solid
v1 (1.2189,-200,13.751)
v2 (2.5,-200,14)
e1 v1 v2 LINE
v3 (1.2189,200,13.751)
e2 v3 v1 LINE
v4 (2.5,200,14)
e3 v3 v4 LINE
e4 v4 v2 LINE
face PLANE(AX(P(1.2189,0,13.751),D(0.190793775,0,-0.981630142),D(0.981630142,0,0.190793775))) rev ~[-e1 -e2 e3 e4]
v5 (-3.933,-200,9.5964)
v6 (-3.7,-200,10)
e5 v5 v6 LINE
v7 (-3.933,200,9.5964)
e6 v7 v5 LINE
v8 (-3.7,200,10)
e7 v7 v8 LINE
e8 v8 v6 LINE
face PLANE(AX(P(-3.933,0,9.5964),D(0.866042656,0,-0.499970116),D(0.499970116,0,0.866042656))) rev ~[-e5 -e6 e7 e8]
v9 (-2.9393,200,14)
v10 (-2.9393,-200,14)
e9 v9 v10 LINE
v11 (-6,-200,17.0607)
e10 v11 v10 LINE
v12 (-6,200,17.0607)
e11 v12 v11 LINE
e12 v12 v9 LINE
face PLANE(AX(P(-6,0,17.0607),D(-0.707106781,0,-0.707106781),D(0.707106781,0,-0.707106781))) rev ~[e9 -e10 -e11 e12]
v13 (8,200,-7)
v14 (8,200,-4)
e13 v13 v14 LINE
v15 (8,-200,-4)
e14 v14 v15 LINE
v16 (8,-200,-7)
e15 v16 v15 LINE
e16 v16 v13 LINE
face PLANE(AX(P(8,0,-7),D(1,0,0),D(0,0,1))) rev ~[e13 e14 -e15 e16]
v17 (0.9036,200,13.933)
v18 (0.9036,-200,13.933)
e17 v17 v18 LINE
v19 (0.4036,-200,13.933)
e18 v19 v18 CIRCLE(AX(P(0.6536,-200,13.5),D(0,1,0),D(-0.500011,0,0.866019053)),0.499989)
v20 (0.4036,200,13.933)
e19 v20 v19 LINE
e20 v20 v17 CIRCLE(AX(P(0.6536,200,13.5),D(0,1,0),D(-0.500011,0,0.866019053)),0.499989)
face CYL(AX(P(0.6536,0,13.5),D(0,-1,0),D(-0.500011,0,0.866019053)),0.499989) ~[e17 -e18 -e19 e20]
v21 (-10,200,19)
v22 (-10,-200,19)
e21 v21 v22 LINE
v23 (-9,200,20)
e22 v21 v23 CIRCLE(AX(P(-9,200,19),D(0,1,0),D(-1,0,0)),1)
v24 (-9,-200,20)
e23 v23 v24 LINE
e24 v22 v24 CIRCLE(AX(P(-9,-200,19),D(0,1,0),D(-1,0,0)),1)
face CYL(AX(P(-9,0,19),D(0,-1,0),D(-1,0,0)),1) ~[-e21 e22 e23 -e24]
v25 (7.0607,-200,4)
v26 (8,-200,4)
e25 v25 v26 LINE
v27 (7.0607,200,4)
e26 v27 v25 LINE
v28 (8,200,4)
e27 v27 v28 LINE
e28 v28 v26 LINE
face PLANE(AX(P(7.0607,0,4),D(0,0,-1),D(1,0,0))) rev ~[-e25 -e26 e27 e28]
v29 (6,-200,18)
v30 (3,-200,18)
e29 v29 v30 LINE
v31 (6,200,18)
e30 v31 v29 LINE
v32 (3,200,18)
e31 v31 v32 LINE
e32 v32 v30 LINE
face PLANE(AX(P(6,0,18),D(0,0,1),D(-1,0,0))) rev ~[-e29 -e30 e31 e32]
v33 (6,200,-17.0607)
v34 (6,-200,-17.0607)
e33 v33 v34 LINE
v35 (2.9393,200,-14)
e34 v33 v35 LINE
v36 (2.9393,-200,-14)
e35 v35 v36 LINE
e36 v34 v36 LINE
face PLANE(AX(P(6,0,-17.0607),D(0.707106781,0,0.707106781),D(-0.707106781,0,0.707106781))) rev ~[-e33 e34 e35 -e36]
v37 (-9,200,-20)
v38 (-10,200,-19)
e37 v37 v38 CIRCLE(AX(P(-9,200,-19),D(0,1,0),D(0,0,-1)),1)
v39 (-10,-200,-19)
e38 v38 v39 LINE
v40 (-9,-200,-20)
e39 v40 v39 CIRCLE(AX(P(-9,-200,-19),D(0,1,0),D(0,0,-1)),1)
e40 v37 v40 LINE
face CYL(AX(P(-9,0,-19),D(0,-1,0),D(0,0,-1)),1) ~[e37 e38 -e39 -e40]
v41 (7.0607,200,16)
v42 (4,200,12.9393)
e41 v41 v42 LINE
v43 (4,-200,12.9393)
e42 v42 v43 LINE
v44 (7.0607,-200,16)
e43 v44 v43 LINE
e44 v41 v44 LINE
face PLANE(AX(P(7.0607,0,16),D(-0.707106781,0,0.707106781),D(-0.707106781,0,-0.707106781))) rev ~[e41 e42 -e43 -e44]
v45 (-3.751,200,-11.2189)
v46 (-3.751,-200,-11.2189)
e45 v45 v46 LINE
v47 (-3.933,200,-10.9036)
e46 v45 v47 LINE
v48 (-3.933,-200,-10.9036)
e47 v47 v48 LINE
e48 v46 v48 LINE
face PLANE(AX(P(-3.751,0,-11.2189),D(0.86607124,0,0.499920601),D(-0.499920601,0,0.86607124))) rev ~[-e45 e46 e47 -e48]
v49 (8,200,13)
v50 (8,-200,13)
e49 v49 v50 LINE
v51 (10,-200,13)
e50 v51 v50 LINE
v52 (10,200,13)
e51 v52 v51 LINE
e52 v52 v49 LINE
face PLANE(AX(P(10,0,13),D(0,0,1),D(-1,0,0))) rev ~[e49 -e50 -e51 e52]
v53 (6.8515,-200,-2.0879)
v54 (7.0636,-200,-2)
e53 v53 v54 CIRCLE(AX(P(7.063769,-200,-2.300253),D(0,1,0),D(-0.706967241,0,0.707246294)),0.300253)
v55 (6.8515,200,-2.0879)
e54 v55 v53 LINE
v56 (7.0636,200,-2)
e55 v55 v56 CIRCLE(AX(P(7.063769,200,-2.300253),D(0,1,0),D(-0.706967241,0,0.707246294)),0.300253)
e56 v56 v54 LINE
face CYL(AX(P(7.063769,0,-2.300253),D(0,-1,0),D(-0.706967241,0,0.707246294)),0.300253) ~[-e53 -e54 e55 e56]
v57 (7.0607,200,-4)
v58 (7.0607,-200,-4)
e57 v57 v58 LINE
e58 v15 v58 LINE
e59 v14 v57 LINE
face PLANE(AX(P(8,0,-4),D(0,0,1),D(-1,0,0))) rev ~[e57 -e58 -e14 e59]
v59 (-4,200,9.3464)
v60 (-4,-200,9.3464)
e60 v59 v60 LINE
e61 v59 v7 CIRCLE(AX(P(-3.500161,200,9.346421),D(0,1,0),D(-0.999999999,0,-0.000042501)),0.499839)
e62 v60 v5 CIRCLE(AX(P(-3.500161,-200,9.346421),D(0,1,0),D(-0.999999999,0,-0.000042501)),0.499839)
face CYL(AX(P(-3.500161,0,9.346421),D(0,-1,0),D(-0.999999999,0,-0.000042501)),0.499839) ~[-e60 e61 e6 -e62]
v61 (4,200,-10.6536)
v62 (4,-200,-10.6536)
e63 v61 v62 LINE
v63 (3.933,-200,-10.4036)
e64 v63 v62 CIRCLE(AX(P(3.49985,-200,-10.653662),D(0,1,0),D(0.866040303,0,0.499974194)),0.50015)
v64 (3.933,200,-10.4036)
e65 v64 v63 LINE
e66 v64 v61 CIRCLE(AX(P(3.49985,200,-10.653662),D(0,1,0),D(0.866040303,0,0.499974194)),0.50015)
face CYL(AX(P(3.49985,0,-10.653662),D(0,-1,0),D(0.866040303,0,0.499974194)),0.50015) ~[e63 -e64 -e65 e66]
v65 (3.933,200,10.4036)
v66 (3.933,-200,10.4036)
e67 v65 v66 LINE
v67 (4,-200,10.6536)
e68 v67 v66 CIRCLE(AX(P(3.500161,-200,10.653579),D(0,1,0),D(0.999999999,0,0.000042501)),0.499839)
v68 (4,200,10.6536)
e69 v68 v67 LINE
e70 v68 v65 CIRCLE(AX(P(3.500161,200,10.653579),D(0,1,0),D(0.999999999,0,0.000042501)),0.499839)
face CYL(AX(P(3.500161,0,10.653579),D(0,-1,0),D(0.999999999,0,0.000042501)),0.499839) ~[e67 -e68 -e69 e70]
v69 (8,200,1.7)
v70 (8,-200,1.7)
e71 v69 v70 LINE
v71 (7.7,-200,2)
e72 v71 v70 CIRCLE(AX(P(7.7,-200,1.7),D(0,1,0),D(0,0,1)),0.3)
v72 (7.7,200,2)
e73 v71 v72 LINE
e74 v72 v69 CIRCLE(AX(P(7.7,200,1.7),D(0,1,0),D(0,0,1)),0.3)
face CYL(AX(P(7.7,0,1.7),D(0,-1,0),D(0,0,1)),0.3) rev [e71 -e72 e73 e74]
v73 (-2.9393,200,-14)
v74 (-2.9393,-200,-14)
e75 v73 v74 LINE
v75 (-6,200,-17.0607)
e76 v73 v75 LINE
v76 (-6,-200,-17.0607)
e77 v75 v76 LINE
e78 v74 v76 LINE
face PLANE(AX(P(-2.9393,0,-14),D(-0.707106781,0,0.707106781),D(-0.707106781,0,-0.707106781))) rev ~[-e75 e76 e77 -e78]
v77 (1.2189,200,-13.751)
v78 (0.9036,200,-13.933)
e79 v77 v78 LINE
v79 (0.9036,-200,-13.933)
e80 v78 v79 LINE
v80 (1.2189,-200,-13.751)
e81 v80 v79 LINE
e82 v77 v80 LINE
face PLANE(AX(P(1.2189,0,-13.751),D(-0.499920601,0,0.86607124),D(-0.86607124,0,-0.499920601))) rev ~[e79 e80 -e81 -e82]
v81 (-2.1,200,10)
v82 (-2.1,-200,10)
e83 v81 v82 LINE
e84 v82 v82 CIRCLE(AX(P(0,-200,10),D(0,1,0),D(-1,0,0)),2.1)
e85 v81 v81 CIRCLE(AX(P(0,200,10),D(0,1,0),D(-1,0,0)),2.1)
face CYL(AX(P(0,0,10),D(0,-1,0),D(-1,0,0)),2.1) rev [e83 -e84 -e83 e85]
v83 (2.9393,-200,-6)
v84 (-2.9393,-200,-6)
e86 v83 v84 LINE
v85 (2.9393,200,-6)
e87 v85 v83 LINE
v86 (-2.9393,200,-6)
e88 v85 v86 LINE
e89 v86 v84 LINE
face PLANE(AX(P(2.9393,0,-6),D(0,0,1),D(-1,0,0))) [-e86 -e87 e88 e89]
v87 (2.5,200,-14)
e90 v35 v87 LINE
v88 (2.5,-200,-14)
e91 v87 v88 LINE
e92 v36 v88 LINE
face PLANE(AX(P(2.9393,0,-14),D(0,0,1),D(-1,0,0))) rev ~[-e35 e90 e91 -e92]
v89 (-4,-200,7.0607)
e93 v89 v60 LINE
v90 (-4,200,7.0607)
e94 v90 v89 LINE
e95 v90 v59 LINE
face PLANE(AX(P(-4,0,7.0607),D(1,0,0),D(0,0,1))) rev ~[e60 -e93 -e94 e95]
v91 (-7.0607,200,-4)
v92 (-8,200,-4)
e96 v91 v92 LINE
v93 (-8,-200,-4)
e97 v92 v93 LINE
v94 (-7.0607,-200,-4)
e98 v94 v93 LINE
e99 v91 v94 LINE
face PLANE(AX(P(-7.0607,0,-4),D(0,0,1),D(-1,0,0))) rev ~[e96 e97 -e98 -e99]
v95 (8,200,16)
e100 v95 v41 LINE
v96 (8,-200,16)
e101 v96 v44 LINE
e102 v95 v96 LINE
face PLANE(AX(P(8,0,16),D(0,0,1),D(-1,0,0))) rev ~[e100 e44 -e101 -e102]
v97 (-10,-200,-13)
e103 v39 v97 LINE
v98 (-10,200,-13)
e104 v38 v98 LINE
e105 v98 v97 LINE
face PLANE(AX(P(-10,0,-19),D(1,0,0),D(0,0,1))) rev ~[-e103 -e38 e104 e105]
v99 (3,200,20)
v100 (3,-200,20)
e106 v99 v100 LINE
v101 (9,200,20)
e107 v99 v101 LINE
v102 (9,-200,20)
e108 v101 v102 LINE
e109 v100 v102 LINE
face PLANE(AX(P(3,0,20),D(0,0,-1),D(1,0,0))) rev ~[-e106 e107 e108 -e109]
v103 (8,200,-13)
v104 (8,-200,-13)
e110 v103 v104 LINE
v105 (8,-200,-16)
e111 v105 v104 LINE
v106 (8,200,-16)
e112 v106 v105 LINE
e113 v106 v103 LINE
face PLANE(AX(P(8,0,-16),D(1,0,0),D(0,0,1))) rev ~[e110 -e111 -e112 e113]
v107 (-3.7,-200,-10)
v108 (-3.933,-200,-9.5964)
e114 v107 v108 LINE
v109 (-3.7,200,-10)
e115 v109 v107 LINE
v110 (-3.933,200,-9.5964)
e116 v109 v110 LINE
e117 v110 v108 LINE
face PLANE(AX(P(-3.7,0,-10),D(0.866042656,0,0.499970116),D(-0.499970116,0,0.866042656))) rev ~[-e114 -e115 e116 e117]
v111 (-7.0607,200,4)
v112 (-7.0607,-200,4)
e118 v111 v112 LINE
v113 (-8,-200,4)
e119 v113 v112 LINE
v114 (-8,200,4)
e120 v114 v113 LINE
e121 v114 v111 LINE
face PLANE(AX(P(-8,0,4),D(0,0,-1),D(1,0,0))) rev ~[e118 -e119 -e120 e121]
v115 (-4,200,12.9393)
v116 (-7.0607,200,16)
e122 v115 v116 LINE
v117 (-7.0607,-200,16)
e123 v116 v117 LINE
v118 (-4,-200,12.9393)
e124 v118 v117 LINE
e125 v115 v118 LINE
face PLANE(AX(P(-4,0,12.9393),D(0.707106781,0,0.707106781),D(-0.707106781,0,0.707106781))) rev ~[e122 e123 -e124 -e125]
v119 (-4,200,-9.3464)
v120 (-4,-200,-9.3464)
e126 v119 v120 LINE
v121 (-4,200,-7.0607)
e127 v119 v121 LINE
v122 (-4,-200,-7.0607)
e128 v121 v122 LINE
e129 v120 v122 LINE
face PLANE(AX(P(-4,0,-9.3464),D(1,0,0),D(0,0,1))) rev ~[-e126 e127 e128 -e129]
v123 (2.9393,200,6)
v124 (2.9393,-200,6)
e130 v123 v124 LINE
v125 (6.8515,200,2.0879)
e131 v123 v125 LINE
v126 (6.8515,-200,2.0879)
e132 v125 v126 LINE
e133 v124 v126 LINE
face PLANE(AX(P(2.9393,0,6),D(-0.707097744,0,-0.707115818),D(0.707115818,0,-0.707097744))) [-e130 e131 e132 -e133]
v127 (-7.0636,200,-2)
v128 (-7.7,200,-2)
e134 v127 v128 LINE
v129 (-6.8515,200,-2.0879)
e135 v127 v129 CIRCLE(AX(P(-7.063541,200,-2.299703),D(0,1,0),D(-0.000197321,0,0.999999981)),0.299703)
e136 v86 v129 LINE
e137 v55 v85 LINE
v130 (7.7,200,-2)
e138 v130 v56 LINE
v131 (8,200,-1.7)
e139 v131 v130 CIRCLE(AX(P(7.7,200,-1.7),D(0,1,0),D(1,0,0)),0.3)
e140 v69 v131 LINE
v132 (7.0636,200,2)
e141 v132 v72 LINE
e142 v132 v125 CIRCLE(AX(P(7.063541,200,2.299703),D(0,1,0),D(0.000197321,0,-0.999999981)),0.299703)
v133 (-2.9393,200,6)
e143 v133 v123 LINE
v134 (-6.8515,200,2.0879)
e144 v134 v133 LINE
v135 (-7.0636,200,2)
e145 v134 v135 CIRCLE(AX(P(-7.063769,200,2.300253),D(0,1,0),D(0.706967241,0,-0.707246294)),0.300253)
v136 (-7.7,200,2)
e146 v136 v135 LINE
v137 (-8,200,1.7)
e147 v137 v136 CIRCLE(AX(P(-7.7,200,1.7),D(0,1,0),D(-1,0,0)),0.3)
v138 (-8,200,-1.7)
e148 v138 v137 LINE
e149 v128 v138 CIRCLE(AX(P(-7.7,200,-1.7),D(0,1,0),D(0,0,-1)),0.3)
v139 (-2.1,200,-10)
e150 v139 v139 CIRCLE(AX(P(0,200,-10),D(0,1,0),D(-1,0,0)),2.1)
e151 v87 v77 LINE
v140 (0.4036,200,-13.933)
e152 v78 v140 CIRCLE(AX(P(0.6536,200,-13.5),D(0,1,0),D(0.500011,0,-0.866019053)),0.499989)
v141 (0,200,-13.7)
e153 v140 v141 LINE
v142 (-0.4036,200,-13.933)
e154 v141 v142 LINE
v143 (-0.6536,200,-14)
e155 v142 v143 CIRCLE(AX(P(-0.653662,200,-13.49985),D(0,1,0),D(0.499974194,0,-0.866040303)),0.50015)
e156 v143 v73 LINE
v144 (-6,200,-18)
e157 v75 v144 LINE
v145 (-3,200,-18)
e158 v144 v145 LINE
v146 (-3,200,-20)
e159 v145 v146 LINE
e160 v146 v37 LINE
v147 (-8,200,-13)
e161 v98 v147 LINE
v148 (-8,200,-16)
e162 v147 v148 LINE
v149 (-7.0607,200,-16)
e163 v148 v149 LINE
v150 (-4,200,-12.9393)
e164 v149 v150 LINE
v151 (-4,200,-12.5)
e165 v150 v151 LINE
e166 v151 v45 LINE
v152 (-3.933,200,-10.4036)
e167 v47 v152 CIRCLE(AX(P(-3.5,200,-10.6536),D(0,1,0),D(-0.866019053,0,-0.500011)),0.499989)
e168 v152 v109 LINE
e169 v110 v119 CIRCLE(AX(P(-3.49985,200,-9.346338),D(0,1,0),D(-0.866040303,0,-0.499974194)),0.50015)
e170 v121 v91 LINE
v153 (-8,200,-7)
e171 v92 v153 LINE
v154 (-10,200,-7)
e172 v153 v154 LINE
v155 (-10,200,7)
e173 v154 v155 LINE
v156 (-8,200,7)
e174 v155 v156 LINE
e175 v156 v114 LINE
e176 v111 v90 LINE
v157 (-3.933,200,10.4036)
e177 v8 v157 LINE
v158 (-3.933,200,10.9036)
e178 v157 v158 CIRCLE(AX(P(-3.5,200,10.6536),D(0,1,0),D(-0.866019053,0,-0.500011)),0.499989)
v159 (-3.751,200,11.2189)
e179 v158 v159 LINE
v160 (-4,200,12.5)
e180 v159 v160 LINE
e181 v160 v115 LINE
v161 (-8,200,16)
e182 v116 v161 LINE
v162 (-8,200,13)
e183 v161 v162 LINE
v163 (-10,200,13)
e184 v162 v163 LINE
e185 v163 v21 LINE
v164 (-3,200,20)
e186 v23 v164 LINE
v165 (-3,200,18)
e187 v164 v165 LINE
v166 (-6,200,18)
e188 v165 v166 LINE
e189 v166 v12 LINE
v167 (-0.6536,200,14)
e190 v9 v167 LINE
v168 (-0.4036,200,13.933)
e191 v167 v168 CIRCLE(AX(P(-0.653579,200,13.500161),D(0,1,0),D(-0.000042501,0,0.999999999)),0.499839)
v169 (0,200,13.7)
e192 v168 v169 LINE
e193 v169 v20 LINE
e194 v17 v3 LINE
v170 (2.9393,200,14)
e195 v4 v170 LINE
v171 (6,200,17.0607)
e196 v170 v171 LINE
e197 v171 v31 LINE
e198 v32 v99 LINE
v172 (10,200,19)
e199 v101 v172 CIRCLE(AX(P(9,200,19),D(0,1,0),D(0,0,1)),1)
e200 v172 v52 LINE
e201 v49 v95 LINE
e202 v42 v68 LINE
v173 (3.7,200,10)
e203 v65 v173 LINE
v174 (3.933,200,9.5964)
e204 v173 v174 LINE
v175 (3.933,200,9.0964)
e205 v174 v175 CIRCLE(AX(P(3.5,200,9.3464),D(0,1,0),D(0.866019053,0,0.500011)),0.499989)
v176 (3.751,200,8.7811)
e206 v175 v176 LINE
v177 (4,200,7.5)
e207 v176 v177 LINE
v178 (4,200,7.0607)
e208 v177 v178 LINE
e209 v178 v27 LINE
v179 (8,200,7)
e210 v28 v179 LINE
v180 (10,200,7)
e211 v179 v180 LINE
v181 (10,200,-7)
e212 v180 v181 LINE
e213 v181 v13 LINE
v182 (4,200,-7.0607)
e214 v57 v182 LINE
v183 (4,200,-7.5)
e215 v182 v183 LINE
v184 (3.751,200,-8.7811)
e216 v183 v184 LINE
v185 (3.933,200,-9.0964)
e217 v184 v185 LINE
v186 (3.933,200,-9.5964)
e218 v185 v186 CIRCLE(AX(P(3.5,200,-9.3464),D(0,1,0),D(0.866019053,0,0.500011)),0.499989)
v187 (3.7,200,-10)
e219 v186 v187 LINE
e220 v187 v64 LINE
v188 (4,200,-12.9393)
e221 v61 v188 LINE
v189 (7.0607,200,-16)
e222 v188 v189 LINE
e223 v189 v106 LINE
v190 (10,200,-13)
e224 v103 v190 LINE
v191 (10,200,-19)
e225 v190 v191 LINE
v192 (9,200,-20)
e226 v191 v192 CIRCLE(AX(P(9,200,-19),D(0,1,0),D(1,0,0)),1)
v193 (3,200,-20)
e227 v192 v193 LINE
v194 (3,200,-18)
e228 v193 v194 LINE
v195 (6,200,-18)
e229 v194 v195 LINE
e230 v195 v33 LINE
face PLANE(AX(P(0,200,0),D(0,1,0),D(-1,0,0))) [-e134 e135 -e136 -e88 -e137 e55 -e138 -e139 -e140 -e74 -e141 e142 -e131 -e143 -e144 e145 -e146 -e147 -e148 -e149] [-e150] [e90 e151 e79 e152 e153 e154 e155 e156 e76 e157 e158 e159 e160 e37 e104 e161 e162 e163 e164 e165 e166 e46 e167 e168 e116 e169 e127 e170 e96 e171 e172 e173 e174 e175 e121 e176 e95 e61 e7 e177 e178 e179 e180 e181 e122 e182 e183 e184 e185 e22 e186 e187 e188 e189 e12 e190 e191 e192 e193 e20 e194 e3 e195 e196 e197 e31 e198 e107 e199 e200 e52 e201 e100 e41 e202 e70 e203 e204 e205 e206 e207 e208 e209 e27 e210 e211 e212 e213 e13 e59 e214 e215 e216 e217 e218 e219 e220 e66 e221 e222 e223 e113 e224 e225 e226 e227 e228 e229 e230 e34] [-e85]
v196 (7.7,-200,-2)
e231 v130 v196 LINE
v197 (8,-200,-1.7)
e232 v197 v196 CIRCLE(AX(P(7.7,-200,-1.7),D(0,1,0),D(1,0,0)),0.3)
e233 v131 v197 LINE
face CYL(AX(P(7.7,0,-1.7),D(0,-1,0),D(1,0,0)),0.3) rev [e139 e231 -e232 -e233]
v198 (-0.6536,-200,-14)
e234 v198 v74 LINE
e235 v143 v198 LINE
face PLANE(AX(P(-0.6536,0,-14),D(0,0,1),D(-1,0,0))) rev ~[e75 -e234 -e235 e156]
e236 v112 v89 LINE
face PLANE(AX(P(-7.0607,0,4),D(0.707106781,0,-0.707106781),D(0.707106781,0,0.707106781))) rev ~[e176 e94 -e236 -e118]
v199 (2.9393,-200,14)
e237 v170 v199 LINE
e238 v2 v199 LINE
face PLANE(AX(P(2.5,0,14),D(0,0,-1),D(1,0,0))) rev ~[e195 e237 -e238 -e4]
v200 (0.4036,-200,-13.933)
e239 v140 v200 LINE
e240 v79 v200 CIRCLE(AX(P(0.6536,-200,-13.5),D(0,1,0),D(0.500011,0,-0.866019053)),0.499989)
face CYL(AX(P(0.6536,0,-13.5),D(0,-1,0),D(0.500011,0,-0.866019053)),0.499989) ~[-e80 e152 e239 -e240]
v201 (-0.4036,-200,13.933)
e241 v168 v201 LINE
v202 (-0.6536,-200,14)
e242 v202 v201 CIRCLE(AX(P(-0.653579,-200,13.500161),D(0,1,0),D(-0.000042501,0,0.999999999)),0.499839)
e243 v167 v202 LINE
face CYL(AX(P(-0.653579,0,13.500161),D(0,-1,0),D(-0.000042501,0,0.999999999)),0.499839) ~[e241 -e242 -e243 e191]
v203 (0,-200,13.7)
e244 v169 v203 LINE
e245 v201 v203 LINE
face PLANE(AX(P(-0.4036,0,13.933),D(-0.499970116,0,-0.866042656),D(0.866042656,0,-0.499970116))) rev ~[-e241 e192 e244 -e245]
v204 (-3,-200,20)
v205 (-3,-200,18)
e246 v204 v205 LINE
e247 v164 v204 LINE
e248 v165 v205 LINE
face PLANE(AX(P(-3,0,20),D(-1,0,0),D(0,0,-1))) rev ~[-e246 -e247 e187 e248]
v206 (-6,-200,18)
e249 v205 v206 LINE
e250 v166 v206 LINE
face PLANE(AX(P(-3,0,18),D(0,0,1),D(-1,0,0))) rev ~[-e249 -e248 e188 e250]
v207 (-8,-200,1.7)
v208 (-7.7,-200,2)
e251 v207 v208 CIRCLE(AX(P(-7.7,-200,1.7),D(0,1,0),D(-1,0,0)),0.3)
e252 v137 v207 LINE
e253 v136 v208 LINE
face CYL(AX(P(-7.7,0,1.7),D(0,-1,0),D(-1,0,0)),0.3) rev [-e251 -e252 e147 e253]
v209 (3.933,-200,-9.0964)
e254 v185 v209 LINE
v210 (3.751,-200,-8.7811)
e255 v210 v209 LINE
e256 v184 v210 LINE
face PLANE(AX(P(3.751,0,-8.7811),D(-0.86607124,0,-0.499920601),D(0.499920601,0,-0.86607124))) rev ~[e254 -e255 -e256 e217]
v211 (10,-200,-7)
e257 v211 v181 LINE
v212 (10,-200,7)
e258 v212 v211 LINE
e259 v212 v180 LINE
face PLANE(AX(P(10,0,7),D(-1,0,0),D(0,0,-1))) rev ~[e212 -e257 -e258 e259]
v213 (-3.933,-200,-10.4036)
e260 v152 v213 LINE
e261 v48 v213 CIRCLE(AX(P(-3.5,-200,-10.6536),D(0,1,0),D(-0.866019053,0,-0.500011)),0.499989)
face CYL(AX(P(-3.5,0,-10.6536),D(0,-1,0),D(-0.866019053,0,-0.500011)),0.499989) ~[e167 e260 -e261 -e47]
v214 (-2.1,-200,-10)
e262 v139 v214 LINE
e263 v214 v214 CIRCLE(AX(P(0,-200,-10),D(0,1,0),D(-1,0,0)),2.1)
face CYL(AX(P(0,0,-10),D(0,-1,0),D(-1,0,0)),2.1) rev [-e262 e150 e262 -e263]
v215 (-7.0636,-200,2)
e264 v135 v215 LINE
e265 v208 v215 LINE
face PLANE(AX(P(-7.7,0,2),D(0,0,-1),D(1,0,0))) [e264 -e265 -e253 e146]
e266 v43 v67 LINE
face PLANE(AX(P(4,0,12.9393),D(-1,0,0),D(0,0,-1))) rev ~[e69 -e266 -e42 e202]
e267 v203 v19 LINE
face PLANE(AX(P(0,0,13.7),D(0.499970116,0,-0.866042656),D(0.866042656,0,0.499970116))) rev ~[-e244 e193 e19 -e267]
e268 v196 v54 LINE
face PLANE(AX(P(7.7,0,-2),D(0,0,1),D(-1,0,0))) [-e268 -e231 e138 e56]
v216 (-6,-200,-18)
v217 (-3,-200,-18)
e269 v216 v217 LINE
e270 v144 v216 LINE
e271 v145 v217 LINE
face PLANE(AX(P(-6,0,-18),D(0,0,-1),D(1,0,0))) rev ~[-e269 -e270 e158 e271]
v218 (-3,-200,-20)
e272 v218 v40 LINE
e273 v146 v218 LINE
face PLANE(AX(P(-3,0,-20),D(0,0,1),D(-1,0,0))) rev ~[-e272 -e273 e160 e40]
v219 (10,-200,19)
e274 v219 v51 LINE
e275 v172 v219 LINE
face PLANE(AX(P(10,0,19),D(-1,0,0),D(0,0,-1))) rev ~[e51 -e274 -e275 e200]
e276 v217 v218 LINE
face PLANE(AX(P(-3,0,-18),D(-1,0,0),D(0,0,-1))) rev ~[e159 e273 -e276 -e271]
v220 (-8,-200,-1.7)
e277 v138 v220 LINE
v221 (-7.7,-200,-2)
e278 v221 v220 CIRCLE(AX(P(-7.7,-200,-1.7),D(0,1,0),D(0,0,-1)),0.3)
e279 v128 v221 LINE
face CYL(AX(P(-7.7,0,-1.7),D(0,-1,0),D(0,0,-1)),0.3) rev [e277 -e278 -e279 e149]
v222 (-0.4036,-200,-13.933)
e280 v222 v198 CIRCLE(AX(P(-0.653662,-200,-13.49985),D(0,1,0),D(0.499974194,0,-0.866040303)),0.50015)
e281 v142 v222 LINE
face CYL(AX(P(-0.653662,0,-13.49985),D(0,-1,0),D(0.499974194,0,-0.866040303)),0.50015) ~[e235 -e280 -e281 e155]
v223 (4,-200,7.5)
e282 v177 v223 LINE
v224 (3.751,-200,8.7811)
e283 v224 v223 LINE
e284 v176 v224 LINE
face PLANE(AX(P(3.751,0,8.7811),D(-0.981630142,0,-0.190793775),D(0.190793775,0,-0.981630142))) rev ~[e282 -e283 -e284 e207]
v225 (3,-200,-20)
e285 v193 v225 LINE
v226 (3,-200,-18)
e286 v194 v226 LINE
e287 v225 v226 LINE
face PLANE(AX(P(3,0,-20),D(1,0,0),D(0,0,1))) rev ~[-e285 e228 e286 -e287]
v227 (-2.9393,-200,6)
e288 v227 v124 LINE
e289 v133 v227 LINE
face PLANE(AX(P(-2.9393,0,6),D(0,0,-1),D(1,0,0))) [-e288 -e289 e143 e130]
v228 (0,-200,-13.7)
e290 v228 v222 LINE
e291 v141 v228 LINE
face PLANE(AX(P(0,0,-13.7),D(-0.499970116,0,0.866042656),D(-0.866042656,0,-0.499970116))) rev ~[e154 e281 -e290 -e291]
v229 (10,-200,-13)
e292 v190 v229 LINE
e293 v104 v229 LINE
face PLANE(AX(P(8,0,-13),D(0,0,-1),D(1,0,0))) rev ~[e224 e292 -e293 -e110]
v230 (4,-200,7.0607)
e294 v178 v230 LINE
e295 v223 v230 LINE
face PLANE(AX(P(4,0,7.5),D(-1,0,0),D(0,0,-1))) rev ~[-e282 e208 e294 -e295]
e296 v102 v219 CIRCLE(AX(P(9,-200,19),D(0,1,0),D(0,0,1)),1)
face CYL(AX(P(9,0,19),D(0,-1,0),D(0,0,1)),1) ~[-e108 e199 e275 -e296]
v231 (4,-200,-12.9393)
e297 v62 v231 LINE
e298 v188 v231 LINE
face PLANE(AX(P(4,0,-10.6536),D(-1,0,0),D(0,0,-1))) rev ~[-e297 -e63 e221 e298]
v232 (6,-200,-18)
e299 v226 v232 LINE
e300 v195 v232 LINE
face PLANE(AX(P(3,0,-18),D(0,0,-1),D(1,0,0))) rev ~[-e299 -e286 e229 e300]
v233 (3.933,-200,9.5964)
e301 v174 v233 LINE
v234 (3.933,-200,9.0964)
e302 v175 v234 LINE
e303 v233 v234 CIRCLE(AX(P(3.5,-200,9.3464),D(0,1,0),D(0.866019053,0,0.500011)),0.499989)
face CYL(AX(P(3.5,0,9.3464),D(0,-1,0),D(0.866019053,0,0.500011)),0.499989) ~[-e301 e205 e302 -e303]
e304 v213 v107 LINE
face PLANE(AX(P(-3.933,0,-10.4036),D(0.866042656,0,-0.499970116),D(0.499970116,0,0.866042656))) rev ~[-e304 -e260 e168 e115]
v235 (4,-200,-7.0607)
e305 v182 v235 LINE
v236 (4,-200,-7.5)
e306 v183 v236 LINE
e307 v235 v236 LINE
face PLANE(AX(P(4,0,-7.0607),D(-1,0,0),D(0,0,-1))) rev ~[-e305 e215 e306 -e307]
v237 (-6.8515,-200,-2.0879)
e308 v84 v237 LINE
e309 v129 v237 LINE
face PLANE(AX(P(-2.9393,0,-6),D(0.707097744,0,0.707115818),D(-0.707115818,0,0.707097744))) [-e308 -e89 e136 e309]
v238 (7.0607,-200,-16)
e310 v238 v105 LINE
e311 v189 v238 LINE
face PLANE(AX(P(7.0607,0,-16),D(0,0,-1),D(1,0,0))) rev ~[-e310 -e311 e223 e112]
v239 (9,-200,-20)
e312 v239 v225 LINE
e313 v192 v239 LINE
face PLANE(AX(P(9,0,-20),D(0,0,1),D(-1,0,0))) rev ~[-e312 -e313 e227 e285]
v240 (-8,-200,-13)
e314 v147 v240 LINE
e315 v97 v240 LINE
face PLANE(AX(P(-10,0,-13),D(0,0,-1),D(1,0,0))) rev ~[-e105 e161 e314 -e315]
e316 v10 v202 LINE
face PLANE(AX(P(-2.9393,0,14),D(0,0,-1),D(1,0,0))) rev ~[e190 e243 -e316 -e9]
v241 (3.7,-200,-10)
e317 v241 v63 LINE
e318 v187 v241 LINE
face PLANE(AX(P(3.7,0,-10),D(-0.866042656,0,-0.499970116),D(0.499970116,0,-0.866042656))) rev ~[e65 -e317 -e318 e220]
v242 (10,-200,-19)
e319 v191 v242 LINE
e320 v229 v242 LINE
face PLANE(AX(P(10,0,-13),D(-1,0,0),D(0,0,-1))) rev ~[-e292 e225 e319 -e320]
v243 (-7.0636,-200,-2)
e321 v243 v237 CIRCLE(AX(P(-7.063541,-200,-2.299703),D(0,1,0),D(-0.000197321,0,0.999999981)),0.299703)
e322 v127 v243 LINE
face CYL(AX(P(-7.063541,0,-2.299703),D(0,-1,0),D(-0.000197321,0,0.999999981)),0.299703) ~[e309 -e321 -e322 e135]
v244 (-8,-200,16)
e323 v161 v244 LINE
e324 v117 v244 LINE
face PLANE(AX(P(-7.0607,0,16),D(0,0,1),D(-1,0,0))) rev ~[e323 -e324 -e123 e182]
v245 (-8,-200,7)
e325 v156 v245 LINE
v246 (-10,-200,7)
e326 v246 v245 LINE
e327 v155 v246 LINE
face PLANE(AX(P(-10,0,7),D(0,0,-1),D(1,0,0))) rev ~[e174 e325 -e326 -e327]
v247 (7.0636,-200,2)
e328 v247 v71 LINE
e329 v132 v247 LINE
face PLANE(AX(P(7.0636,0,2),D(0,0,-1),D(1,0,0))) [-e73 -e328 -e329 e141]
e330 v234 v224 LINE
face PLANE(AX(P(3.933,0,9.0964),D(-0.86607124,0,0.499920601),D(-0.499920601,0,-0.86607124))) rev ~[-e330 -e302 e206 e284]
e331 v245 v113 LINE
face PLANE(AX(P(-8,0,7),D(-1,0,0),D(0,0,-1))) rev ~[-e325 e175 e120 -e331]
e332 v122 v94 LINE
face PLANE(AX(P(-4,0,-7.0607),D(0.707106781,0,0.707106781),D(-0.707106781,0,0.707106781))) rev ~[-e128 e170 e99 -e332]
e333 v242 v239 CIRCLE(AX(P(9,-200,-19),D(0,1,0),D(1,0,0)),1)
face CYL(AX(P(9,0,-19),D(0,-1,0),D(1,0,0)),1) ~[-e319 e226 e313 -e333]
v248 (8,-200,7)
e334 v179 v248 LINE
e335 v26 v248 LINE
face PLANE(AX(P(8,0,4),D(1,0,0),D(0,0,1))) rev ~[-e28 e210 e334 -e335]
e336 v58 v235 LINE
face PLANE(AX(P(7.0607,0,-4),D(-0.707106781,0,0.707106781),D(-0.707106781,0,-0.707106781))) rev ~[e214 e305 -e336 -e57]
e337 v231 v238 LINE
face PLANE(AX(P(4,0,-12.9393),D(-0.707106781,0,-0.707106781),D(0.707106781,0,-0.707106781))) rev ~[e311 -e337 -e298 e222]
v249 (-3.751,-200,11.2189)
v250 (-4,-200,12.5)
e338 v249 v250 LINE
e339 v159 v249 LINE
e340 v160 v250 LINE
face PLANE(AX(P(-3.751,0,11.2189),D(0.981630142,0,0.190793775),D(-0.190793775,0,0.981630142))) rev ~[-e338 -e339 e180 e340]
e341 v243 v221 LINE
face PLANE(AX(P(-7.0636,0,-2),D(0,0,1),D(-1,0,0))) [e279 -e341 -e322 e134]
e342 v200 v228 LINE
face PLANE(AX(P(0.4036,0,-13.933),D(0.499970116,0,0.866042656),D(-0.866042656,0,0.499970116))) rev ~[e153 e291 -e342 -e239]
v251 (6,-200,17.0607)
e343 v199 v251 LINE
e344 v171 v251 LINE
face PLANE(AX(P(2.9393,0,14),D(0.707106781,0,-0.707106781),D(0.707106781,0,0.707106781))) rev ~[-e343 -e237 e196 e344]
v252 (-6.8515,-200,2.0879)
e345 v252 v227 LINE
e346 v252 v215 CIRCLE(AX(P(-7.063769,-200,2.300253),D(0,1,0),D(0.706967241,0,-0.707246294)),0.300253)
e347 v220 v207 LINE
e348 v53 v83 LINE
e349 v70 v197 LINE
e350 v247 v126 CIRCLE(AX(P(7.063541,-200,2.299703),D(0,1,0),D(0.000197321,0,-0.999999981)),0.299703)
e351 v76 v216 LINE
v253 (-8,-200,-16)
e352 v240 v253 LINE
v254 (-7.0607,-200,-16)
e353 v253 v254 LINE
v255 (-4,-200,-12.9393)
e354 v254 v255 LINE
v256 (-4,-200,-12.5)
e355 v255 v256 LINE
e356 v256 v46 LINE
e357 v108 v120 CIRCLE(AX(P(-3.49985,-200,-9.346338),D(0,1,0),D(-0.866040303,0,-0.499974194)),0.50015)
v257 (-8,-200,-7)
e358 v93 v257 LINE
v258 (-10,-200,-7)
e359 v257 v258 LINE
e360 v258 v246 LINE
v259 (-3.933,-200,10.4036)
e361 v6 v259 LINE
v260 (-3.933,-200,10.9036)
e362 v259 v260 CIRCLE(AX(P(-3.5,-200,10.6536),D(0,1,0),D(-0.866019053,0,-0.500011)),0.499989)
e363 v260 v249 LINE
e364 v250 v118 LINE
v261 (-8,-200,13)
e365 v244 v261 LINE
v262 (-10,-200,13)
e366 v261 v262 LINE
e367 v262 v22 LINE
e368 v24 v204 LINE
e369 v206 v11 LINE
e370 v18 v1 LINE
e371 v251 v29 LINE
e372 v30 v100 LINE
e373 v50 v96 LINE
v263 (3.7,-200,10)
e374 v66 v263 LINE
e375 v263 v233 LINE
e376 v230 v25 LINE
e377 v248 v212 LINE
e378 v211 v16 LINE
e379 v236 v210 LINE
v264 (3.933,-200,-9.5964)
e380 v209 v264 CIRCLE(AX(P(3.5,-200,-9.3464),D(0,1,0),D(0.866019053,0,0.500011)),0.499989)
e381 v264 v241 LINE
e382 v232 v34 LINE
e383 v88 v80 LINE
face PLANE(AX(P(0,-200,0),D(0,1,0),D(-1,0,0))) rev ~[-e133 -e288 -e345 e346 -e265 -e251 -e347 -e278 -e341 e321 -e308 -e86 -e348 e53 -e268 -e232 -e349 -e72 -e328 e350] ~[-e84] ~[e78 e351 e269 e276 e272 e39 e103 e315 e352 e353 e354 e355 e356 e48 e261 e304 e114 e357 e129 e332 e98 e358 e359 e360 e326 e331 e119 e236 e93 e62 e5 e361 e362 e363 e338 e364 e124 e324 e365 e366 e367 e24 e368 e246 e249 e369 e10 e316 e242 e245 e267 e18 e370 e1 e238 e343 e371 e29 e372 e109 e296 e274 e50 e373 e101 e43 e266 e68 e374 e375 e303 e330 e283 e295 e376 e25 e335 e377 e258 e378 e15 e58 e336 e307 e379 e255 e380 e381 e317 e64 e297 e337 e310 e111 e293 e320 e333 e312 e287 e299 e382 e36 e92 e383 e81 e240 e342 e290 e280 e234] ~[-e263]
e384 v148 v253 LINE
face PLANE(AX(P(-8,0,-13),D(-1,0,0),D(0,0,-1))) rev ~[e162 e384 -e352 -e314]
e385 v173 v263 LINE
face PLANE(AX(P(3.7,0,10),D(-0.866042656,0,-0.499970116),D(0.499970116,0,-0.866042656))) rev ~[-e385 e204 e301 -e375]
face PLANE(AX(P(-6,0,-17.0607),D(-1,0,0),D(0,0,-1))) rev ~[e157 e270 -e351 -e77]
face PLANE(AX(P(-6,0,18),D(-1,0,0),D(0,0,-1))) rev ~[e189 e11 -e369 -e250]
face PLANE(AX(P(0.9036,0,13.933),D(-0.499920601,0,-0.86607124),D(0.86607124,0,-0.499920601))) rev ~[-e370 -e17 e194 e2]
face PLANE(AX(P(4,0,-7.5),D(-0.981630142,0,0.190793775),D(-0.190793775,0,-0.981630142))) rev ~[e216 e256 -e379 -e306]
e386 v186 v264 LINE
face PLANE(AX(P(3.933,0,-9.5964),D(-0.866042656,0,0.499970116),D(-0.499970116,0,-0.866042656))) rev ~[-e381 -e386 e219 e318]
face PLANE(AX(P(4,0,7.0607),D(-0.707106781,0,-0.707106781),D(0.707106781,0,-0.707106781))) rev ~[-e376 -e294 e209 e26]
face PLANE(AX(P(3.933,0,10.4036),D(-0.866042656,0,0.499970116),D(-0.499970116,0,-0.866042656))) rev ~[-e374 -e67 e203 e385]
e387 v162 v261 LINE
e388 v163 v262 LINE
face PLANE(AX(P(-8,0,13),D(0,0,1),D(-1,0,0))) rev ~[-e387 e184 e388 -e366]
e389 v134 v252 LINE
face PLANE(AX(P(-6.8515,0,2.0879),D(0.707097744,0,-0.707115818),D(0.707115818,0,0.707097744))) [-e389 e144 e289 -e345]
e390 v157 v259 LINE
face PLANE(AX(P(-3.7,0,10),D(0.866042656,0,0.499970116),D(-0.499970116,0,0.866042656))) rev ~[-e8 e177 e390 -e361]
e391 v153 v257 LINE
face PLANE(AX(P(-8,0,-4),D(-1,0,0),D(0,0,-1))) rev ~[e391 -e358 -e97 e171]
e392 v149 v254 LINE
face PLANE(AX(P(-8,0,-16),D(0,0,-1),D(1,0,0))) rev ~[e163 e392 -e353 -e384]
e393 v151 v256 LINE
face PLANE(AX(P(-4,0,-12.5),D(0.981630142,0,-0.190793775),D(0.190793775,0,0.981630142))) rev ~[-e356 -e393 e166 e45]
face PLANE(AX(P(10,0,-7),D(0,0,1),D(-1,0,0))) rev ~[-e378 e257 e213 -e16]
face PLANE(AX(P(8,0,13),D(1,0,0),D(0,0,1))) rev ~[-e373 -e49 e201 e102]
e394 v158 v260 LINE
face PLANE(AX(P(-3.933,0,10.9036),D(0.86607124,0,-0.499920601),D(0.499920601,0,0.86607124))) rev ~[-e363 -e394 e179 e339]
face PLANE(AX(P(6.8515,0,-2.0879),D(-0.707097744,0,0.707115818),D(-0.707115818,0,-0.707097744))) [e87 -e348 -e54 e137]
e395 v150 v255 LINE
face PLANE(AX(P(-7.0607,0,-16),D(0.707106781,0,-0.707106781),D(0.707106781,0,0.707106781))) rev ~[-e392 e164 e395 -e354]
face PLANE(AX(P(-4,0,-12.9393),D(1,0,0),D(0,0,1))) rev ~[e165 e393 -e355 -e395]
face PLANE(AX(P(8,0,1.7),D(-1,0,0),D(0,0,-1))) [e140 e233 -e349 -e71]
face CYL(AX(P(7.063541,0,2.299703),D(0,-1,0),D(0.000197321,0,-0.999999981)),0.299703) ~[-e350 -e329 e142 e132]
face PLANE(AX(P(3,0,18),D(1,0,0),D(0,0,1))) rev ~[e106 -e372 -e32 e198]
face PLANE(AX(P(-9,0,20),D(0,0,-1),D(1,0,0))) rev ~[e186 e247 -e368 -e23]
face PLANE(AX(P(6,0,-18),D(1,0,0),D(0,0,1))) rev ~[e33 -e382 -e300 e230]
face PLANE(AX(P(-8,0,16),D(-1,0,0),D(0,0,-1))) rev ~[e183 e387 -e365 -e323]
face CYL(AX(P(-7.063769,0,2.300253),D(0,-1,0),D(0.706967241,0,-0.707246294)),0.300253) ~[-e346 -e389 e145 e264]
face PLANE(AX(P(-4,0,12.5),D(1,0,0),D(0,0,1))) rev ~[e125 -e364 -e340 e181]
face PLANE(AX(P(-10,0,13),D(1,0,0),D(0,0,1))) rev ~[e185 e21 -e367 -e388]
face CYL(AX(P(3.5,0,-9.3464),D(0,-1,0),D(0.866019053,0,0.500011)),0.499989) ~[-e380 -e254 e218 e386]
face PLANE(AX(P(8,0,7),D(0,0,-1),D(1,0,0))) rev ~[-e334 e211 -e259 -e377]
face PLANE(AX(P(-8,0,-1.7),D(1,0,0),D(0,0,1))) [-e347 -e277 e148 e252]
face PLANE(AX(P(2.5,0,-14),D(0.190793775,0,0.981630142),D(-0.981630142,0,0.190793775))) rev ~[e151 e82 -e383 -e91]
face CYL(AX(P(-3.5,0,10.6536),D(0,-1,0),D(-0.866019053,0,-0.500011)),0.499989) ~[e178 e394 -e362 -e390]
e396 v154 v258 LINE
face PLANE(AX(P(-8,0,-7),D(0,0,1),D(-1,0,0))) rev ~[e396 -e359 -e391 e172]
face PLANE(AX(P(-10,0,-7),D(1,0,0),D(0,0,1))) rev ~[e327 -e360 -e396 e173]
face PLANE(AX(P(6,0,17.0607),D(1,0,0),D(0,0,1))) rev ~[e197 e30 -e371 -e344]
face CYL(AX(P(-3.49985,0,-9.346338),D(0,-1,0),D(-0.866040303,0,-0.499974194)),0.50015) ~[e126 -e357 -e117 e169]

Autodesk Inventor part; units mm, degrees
ref_plane "YZ Plane" through (0, 0, 0) normal (1, 0, 0) x (0, 1, 0)
ref_plane "XZ Plane" through (0, 0, 0) normal (0, 1, 0) x (-1, 0, 0)
ref_plane "XY Plane" through (0, 0, 0) normal (0, 0, 1) x (1, 0, 0)
sketch "Sketch1" plane through (0, 0, 0) normal (0, 1, 0) x (-1, 0, 0)
  line L0 (-10, 7) -> (-10, -7)
  line L1 (-10, -7) -> (-8, -7)
  line L2 (-8, -7) -> (-8, -4)
  line L3 (-8, -4) -> (-7.0607, -4)
  line L4 (-7.0607, -4) -> (-4, -7.0607)
  line L5 (-4, -7.0607) -> (-4, -7.5)
  line L6 (-4, -7.5) -> (-3.751, -8.7811)
  line L7 (-3.751, -8.7811) -> (-3.933, -9.0964)
  arc A0 (-3.933, -9.0964) -> (-3.933, -9.5964) centre (-3.5, -9.3464) ccw
  line L8 (-3.933, -9.5964) -> (-3.7, -10)
  line L9 (-3.7, -10) -> (-3.933, -10.4036)
  arc A1 (-3.933, -10.4036) -> (-4, -10.6536) centre (-3.5, -10.6536) ccw
  line L10 (-4, -10.6536) -> (-4, -12.9393)
  line L11 (-4, -12.9393) -> (-7.0607, -16)
  line L12 (-7.0607, -16) -> (-8, -16)
  line L13 (-8, -16) -> (-8, -13)
  line L14 (-8, -13) -> (-10, -13)
  line L15 (-10, -13) -> (-10, -19)
  arc A2 (-10, -19) -> (-9, -20) centre (-9, -19) ccw
  line L16 (-9, -20) -> (-3, -20)
  line L17 (-3, -20) -> (-3, -18)
  line L18 (-3, -18) -> (-6, -18)
  line L19 (-6, -18) -> (-6, -17.0607)
  line L20 (-6, -17.0607) -> (-2.9393, -14)
  line L21 (-2.9393, -14) -> (-2.5, -14)
  line L22 (-2.5, -14) -> (-1.2189, -13.751)
  line L23 (-1.2189, -13.751) -> (-0.9036, -13.933)
  arc A3 (-0.9036, -13.933) -> (-0.4036, -13.933) centre (-0.6536, -13.5) ccw
  line L24 (-0.4036, -13.933) -> (0, -13.7)
  line L25 (0, -13.7) -> (0.4036, -13.933)
  arc A4 (0.4036, -13.933) -> (0.6536, -14) centre (0.6536, -13.5) ccw
  line L26 (0.6536, -14) -> (2.9393, -14)
  line L27 (2.9393, -14) -> (6, -17.0607)
  line L28 (6, -17.0607) -> (6, -18)
  line L29 (6, -18) -> (3, -18)
  line L30 (3, -18) -> (3, -20)
  line L31 (3, -20) -> (9, -20)
  arc A5 (9, -20) -> (10, -19) centre (9, -19) ccw
  line L32 (10, -19) -> (10, -13)
  line L33 (10, -13) -> (8, -13)
  line L34 (8, -13) -> (8, -16)
  line L35 (8, -16) -> (7.0607, -16)
  line L36 (7.0607, -16) -> (4, -12.9393)
  line L37 (4, -12.9393) -> (4, -12.5)
  line L38 (4, -12.5) -> (3.751, -11.2189)
  line L39 (3.751, -11.2189) -> (3.933, -10.9036)
  arc A6 (3.933, -10.9036) -> (3.933, -10.4036) centre (3.5, -10.6536) ccw
  line L40 (3.933, -10.4036) -> (3.7, -10)
  line L41 (3.7, -10) -> (3.933, -9.5964)
  arc A7 (3.933, -9.5964) -> (4, -9.3464) centre (3.5, -9.3464) ccw
  line L42 (4, -9.3464) -> (4, -7.0607)
  line L43 (4, -7.0607) -> (7.0607, -4)
  line L44 (7.0607, -4) -> (8, -4)
  line L45 (8, -4) -> (8, -7)
  line L46 (8, -7) -> (10, -7)
  line L47 (10, -7) -> (10, 7)
  line L48 (10, 7) -> (8, 7)
  line L49 (8, 7) -> (8, 4)
  line L50 (8, 4) -> (7.0607, 4)
  line L51 (7.0607, 4) -> (4, 7.0607)
  line L52 (4, 7.0607) -> (4, 9.3464)
  arc A8 (4, 9.3464) -> (3.933, 9.5964) centre (3.5, 9.3464) ccw
  line L53 (3.933, 9.5964) -> (3.7, 10)
  line L54 (3.7, 10) -> (3.933, 10.4036)
  arc A9 (3.933, 10.4036) -> (3.933, 10.9036) centre (3.5, 10.6536) ccw
  line L55 (3.933, 10.9036) -> (3.751, 11.2189)
  line L56 (3.751, 11.2189) -> (4, 12.5)
  line L57 (4, 12.5) -> (4, 12.9393)
  line L58 (4, 12.9393) -> (7.0607, 16)
  line L59 (7.0607, 16) -> (8, 16)
  line L60 (8, 16) -> (8, 13)
  line L61 (8, 13) -> (10, 13)
  line L62 (10, 13) -> (10, 19)
  arc A10 (10, 19) -> (9, 20) centre (9, 19) ccw
  line L63 (9, 20) -> (3, 20)
  line L64 (3, 20) -> (3, 18)
  line L65 (3, 18) -> (6, 18)
  line L66 (6, 18) -> (6, 17.0607)
  line L67 (6, 17.0607) -> (2.9393, 14)
  line L68 (2.9393, 14) -> (0.6536, 14)
  arc A11 (0.6536, 14) -> (0.4036, 13.933) centre (0.6536, 13.5) ccw
  line L69 (0.4036, 13.933) -> (0, 13.7)
  line L70 (0, 13.7) -> (-0.4036, 13.933)
  arc A12 (-0.4036, 13.933) -> (-0.9036, 13.933) centre (-0.6536, 13.5) ccw
  line L71 (-0.9036, 13.933) -> (-1.2189, 13.751)
  line L72 (-1.2189, 13.751) -> (-2.5, 14)
  line L73 (-2.5, 14) -> (-2.9393, 14)
  line L74 (-2.9393, 14) -> (-6, 17.0607)
  line L75 (-6, 17.0607) -> (-6, 18)
  line L76 (-6, 18) -> (-3, 18)
  line L77 (-3, 18) -> (-3, 20)
  line L78 (-3, 20) -> (-9, 20)
  arc A13 (-9, 20) -> (-10, 19) centre (-9, 19) ccw
  line L79 (-10, 19) -> (-10, 13)
  line L80 (-10, 13) -> (-8, 13)
  line L81 (-8, 13) -> (-8, 16)
  line L82 (-8, 16) -> (-7.0607, 16)
  line L83 (-7.0607, 16) -> (-4, 12.9393)
  line L84 (-4, 12.9393) -> (-4, 10.6536)
  arc A14 (-4, 10.6536) -> (-3.933, 10.4036) centre (-3.5, 10.6536) ccw
  line L85 (-3.933, 10.4036) -> (-3.7, 10)
  line L86 (-3.7, 10) -> (-3.933, 9.5964)
  arc A15 (-3.933, 9.5964) -> (-3.933, 9.0964) centre (-3.5, 9.3464) ccw
  line L87 (-3.933, 9.0964) -> (-3.751, 8.7811)
  line L88 (-3.751, 8.7811) -> (-4, 7.5)
  line L89 (-4, 7.5) -> (-4, 7.0607)
  line L90 (-4, 7.0607) -> (-7.0607, 4)
  line L91 (-7.0607, 4) -> (-8, 4)
  line L92 (-8, 4) -> (-8, 7)
  arc A16 (-7.7, 2) -> (-8, 1.7) centre (-7.7, 1.7) ccw
  line L93 (-7.0636, 2) -> (-7.7, 2)
  arc A17 (-7.0636, 2) -> (-6.8515, 2.0879) centre (-7.0636, 2.3) ccw
  line L94 (-2.9393, 6) -> (-6.8515, 2.0879)
  line L95 (2.9393, 6) -> (-2.9393, 6)
  line L96 (6.8515, 2.0879) -> (2.9393, 6)
  arc A18 (6.8515, 2.0879) -> (7.0636, 2) centre (7.0636, 2.3) ccw
  line L97 (7.7, 2) -> (7.0636, 2)
  arc A19 (8, 1.7) -> (7.7, 2) centre (7.7, 1.7) ccw
  line L98 (8, -1.7) -> (8, 1.7)
  arc A20 (7.7, -2) -> (8, -1.7) centre (7.7, -1.7) ccw
  line L99 (7.0636, -2) -> (7.7, -2)
  arc A21 (7.0636, -2) -> (6.8515, -2.0879) centre (7.0636, -2.3) ccw
  line L100 (2.9393, -6) -> (6.8515, -2.0879)
  line L101 (-2.9393, -6) -> (2.9393, -6)
  line L102 (-6.8515, -2.0879) -> (-2.9393, -6)
  arc A22 (-6.8515, -2.0879) -> (-7.0636, -2) centre (-7.0636, -2.3) ccw
  line L103 (-7.7, -2) -> (-7.0636, -2)
  arc A23 (-8, -1.7) -> (-7.7, -2) centre (-7.7, -1.7) ccw
  line L104 (-8, 1.7) -> (-8, -1.7)
  line L105 (-8, 7) -> (-10, 7)
  circle A24 centre (0, 10) radius 2.1
  circle A25 centre (0, -10) radius 2.1
  line L106 (0, -10) -> (0, 10) construction
  point P0 (0, 0)
  point P1 (0, 0)
extrude "Extrusion1" add sketch "Sketch1" along normal mid plane 400
properties part number "HFS5-2040-400"
